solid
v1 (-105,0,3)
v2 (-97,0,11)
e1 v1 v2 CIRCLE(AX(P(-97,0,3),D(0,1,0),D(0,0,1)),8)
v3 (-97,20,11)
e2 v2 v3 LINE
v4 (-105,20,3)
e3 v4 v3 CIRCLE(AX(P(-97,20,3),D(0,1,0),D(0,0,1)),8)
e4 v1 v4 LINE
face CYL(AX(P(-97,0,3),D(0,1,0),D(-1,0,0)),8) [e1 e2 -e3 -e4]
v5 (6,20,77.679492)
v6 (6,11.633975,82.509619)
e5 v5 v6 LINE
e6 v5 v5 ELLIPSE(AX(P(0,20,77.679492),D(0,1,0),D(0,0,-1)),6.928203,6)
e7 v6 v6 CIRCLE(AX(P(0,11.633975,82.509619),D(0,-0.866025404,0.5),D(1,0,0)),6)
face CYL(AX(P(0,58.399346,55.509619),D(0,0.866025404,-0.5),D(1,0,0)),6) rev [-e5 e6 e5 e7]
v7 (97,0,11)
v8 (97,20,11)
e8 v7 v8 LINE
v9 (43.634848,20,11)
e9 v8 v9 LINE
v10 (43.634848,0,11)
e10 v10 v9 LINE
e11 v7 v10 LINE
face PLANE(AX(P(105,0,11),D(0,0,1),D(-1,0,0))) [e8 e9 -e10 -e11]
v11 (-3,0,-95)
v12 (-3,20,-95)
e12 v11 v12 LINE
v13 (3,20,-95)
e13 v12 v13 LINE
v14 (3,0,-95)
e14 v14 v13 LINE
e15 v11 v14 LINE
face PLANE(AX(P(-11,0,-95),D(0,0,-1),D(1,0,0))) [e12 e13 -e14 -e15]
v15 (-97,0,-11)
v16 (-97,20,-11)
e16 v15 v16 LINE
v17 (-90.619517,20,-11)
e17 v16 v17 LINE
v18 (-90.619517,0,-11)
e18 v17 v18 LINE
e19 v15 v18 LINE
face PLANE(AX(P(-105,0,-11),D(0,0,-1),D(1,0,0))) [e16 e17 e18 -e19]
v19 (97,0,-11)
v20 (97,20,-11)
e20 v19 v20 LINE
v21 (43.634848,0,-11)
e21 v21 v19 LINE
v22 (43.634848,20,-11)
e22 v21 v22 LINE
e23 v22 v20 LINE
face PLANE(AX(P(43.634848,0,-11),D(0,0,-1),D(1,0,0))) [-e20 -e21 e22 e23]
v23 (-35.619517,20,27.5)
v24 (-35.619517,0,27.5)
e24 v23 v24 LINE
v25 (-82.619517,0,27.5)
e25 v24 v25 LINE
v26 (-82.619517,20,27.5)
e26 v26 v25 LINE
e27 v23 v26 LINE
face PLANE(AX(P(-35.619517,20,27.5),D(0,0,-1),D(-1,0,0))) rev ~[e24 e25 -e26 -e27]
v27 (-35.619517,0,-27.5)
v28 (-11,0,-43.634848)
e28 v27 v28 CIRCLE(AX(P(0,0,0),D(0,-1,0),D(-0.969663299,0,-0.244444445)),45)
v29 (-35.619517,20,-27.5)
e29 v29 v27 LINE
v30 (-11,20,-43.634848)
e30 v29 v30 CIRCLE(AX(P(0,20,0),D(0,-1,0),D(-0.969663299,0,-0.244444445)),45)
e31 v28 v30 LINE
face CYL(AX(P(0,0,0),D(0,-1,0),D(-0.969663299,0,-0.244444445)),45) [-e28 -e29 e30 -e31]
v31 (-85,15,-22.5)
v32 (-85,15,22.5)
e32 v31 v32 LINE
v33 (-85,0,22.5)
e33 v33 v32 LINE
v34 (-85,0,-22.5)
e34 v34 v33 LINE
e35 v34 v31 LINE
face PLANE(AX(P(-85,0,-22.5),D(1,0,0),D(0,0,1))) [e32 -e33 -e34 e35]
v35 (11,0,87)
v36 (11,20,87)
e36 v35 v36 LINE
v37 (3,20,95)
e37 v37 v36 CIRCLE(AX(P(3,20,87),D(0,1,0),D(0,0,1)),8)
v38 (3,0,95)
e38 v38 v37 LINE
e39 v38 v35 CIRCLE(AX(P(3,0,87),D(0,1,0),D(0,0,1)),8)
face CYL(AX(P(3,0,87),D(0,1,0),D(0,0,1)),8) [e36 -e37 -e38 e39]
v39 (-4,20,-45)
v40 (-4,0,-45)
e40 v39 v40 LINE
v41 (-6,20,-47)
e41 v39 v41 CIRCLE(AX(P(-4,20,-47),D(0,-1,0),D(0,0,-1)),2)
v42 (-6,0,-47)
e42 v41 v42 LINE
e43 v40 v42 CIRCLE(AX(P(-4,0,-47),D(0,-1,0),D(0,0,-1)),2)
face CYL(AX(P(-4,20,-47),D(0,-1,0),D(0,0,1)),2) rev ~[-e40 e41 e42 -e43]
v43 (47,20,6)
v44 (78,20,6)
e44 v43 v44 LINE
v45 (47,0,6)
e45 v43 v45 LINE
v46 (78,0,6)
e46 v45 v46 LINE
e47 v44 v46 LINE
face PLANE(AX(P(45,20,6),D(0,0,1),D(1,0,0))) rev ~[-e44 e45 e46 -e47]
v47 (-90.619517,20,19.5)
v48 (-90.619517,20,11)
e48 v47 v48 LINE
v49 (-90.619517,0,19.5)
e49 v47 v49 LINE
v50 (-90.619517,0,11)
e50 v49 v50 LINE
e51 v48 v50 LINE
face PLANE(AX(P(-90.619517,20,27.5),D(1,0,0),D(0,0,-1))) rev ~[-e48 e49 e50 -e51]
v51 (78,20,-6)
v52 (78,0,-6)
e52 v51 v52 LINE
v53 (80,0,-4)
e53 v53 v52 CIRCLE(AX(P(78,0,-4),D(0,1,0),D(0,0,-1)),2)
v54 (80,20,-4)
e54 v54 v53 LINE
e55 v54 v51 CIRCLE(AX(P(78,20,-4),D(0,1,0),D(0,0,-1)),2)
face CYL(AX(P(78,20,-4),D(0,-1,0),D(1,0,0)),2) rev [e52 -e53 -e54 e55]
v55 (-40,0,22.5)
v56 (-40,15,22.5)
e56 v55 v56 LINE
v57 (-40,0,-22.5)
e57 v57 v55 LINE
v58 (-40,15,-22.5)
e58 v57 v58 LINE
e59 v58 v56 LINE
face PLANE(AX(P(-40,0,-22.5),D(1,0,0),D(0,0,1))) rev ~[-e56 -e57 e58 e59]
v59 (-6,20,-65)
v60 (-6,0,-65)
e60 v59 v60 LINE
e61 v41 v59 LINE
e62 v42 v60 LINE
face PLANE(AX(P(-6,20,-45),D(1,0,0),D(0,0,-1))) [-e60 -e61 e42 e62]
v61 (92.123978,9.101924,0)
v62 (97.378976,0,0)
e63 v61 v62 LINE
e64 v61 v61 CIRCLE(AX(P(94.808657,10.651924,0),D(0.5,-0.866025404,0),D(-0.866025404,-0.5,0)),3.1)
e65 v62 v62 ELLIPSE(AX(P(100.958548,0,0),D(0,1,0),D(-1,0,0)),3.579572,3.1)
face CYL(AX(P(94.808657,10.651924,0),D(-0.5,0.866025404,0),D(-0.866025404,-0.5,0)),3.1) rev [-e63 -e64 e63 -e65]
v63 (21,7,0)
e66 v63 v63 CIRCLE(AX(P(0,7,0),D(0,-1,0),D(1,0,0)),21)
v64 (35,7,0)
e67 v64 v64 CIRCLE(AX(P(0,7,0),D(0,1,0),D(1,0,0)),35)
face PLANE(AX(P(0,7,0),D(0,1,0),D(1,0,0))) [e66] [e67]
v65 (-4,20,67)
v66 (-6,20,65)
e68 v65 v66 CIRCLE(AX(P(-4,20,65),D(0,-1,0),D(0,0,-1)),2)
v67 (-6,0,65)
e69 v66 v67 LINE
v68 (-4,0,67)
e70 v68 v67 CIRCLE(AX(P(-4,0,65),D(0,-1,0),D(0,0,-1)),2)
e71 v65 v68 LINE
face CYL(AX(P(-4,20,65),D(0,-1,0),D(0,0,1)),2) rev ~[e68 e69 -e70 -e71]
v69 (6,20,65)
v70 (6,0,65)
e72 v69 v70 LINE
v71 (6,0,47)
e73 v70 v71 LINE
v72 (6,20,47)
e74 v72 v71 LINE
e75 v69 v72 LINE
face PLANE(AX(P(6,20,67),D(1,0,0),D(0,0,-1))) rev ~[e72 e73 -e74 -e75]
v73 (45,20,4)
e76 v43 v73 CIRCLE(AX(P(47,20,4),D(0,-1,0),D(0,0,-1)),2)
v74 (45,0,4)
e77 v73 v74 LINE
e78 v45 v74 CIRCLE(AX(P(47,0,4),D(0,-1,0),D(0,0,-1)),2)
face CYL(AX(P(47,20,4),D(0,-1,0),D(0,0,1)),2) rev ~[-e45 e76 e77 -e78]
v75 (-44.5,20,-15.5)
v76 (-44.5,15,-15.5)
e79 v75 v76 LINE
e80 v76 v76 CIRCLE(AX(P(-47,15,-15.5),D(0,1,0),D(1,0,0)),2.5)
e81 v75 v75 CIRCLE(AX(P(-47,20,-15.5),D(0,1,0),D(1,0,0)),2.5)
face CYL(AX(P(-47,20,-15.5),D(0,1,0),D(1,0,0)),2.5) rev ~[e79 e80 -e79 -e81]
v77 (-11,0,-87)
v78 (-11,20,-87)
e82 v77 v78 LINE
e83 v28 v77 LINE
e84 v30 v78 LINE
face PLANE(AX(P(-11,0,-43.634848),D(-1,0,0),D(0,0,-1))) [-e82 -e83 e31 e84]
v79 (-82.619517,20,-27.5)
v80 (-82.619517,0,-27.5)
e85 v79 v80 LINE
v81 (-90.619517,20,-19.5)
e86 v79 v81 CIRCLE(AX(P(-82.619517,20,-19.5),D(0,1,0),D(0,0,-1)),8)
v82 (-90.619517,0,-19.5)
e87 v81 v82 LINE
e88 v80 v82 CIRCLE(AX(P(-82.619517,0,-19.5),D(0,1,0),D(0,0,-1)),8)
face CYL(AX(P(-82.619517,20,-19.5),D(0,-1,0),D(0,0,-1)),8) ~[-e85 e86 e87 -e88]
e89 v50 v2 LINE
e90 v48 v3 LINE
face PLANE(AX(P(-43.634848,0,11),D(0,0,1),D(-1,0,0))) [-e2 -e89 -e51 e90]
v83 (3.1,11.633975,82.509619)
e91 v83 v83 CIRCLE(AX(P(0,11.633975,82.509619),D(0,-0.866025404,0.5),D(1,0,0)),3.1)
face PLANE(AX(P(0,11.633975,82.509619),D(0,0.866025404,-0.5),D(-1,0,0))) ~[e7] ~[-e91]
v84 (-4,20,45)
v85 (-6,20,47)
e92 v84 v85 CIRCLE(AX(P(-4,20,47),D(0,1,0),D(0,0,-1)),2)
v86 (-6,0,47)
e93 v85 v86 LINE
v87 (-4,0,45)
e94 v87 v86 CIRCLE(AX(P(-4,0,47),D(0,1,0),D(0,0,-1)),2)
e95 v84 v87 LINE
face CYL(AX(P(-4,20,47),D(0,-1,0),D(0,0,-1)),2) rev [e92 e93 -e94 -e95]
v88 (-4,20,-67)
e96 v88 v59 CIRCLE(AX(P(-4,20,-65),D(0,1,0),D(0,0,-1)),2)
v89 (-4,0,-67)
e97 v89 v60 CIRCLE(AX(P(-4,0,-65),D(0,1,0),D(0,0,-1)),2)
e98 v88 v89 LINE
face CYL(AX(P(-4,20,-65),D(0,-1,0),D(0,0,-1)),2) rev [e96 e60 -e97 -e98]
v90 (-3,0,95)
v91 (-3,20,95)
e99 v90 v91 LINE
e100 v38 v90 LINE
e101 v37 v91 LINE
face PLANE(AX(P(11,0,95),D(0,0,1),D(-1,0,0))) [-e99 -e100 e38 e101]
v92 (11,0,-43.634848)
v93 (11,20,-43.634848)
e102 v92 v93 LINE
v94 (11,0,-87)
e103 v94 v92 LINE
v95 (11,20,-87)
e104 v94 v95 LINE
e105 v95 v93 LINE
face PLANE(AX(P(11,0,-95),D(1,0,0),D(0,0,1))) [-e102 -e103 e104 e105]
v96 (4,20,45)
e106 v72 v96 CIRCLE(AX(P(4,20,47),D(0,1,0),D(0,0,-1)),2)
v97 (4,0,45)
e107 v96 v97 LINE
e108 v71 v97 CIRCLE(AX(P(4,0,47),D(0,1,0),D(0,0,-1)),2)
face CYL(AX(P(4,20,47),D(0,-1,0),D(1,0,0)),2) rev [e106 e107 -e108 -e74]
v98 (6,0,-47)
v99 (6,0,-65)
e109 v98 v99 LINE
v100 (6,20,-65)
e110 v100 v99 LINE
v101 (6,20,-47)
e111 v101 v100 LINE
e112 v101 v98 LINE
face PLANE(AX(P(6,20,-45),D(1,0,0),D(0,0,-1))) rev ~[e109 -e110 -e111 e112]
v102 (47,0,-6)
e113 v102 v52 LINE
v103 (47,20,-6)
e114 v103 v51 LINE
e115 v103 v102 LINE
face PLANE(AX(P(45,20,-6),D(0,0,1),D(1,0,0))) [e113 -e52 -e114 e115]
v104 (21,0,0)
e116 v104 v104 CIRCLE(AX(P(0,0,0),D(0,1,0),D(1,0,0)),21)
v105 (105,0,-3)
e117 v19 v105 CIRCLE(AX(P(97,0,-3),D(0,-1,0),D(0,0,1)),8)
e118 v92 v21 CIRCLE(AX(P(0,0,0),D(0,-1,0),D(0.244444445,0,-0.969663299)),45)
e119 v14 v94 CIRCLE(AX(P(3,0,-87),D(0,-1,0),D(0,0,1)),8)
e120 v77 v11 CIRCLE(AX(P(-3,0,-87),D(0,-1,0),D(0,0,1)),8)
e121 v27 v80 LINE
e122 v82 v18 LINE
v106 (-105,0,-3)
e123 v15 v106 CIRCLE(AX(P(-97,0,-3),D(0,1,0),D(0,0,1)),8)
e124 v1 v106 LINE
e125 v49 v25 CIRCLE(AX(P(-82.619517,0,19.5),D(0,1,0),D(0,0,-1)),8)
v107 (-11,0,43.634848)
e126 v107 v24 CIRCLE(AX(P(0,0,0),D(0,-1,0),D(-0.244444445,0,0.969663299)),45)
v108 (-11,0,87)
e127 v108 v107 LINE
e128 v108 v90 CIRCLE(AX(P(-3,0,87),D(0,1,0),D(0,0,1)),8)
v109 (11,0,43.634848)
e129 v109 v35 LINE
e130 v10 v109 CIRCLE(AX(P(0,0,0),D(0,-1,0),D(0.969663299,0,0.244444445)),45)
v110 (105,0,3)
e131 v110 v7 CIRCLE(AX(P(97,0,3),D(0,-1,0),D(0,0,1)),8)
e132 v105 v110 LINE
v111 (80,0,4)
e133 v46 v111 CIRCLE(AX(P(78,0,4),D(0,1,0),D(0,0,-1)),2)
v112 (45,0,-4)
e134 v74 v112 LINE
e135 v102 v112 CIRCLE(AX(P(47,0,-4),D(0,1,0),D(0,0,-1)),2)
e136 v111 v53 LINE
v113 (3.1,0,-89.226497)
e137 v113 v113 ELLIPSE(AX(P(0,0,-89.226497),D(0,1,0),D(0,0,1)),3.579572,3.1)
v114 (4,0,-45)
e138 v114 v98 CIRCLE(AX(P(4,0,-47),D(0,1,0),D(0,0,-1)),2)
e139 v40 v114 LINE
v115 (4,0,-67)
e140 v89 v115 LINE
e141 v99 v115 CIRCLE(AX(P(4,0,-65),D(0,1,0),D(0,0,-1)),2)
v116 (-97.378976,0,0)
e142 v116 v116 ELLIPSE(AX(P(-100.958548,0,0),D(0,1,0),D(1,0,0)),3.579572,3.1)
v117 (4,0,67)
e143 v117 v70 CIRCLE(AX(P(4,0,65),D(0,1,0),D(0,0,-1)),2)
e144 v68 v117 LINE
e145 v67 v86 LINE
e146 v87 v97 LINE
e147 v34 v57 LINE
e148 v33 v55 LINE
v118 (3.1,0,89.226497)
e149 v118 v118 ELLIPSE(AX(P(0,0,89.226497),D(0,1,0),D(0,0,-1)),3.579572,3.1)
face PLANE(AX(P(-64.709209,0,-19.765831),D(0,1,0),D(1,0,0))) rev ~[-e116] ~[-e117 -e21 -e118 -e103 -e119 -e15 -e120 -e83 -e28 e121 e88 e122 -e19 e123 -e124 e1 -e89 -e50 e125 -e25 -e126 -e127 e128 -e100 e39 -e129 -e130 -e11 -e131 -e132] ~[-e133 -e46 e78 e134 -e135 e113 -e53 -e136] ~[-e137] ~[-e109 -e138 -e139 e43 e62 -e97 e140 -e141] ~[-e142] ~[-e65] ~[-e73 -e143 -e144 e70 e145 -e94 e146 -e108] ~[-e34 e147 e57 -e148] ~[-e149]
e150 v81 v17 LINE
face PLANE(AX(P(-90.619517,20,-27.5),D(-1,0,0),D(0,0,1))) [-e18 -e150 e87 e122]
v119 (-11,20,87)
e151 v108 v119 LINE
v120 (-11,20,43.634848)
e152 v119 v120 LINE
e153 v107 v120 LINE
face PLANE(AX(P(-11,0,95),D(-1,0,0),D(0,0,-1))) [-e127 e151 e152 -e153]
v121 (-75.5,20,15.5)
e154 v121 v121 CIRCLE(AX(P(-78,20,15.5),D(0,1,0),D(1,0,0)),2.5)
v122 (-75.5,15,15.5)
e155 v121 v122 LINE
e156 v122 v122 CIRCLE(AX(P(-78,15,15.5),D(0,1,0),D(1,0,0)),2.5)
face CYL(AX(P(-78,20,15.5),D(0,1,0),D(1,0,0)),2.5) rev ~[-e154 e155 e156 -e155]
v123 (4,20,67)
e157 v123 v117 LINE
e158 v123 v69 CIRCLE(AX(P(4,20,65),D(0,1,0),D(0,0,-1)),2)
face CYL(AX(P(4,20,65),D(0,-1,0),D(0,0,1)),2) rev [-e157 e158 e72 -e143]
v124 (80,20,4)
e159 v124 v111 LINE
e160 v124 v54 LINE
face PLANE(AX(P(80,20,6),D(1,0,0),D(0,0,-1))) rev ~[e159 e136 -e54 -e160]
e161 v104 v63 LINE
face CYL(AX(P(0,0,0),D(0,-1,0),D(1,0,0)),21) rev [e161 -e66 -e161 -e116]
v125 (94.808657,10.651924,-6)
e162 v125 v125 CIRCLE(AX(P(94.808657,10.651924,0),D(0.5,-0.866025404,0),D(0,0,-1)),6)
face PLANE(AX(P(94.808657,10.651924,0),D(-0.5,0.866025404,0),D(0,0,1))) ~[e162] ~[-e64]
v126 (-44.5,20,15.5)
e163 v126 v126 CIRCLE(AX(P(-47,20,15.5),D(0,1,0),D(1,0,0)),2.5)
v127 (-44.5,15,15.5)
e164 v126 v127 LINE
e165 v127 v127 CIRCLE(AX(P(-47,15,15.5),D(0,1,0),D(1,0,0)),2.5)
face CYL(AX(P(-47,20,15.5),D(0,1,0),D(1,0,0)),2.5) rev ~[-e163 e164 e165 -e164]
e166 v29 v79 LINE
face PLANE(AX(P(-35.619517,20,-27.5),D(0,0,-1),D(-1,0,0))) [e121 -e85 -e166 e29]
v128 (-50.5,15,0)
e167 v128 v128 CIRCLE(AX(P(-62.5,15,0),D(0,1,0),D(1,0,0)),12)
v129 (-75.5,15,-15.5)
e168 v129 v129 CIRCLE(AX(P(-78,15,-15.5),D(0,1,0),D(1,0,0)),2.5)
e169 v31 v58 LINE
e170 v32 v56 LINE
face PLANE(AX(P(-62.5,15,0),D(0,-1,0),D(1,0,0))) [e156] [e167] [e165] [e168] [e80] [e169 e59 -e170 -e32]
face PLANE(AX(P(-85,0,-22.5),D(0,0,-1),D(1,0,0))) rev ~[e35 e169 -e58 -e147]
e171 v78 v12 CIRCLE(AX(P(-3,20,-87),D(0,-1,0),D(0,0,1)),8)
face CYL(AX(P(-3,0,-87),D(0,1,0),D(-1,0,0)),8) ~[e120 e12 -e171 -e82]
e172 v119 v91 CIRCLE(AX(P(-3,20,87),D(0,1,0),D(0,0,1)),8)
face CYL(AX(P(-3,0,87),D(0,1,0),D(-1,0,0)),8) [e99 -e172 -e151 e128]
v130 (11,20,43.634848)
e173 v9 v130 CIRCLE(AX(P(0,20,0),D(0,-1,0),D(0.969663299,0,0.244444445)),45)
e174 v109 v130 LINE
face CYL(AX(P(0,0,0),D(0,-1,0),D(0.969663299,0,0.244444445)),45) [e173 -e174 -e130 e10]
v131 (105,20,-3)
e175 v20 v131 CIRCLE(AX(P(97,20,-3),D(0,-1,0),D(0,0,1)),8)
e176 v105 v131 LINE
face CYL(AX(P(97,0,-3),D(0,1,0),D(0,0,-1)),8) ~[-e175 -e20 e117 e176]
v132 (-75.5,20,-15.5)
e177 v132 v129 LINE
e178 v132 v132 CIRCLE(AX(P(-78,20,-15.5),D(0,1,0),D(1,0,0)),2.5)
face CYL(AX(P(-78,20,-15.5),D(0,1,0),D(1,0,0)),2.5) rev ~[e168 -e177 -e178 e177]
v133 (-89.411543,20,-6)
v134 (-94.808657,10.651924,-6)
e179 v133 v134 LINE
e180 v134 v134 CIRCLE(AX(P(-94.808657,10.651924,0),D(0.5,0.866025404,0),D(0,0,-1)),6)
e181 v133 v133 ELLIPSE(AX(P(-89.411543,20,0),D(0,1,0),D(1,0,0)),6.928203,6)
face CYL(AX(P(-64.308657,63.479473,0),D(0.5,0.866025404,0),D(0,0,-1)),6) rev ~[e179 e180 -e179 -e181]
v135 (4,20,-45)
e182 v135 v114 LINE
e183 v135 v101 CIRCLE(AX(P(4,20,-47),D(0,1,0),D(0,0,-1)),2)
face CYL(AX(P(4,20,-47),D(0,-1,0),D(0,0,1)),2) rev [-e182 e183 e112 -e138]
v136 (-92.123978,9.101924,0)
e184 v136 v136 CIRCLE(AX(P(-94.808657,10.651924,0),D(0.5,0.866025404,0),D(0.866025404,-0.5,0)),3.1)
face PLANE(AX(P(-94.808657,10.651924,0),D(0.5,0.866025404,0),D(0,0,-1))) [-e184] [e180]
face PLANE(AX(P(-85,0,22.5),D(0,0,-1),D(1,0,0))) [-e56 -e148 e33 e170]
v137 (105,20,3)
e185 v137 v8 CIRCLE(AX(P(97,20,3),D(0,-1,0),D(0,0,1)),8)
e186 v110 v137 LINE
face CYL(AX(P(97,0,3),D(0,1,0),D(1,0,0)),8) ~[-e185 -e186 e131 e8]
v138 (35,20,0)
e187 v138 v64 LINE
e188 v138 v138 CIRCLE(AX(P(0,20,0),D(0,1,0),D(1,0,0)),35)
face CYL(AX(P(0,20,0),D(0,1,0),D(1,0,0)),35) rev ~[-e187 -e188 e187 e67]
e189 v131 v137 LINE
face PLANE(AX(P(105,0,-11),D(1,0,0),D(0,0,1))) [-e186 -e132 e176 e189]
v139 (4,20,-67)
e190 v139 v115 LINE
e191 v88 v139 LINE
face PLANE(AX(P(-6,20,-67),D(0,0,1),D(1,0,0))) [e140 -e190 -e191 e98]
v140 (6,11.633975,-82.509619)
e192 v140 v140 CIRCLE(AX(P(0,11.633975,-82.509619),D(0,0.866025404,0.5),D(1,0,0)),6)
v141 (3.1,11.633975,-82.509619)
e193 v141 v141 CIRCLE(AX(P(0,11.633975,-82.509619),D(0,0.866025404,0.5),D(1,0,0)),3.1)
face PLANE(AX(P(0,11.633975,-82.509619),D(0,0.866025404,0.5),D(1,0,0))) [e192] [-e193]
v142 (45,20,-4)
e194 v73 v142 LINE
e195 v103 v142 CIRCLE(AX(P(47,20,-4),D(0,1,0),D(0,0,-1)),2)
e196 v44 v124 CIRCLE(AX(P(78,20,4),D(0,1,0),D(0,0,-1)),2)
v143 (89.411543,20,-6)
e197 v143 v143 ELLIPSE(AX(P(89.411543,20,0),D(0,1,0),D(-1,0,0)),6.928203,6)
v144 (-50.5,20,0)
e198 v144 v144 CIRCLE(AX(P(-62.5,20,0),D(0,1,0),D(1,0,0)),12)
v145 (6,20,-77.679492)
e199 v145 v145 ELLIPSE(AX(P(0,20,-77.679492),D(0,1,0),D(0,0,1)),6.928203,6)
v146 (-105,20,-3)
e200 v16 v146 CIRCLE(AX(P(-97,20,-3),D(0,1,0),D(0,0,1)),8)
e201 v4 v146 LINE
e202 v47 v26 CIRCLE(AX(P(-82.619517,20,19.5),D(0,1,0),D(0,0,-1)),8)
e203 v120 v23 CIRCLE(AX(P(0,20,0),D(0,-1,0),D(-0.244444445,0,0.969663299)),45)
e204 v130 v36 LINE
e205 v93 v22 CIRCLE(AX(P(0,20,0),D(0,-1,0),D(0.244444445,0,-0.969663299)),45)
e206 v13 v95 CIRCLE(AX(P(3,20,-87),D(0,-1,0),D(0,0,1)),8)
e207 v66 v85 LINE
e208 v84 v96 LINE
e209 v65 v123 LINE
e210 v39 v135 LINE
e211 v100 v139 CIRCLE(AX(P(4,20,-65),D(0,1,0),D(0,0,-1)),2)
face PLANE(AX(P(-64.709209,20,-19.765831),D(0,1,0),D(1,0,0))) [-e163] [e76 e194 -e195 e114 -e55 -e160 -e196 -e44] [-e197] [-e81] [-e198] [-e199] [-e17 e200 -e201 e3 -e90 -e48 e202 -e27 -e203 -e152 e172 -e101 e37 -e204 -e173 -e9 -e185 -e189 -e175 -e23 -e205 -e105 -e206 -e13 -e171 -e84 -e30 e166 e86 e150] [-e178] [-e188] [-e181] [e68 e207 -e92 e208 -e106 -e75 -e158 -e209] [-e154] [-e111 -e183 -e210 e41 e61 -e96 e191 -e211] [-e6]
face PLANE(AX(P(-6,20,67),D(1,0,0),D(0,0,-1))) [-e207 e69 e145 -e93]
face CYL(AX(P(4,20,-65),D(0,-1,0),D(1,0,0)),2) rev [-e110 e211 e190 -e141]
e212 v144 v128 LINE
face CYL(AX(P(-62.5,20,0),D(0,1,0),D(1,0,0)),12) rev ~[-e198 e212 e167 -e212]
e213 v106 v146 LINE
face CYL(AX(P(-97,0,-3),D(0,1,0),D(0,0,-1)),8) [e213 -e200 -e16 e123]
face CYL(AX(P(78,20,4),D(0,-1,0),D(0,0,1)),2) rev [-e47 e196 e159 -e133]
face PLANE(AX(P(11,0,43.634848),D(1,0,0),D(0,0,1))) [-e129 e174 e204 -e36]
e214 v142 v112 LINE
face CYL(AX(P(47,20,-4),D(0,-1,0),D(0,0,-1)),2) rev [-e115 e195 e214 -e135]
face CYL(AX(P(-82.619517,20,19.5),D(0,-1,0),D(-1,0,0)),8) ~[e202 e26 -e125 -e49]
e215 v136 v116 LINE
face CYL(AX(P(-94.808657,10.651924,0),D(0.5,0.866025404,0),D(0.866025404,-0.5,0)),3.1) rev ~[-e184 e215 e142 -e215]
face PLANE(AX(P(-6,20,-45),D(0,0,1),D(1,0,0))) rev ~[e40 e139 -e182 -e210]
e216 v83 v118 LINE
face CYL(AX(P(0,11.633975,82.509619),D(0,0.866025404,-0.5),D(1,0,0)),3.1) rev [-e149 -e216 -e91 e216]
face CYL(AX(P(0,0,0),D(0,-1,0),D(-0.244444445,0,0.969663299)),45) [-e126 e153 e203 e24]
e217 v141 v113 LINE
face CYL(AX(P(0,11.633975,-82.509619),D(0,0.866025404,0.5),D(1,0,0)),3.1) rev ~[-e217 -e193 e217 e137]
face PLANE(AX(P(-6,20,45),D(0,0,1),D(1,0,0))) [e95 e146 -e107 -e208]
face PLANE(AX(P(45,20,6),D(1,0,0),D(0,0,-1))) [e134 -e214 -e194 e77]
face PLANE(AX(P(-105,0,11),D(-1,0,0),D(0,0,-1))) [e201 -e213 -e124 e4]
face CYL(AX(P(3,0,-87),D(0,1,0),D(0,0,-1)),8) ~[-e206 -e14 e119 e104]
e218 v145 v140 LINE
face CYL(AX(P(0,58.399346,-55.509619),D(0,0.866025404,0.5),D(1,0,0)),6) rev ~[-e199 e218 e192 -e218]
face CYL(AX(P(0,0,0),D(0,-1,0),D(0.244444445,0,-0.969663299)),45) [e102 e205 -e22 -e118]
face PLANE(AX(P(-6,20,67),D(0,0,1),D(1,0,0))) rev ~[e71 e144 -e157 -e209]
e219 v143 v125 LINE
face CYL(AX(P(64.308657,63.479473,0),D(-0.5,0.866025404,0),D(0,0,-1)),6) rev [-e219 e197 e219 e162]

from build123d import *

# Parameters (mm, degrees)
SKETCH_1_R          = 21
EXTRUDE_1_DEPTH     = 20
EXTRUDE_2_DEPTH     = 20
SKETCH_6_R          = 35
CUT_EXTRUDE_4_DEPTH = 13
SKETCH_4_R          = 2.5
SKETCH_4_R_2        = 12
CUT_EXTRUDE_3_DEPTH = 21
SKETCH_7_W          = 45
SKETCH_7_H          = 45
CUT_EXTRUDE_5_DEPTH = 15
SKETCH_2_R          = 6
CUT_EXTRUDE_1_DEPTH = 54
SKETCH_3_R          = 3.1
CUT_EXTRUDE_2_DEPTH = 17.320508076
SKETCH_8_R          = 6
CUT_EXTRUDE_6_DEPTH = 61
SKETCH_9_R          = 3.1
CUT_EXTRUDE_7_DEPTH = 15.320508076
FILLET_1_R          = 8
SKETCH_10_W         = 12
SKETCH_10_H         = 22
SKETCH_10_W_2       = 35
SKETCH_10_H_2       = 12
CUT_EXTRUDE_8_DEPTH = 21
FILLET_2_R          = 2


with BuildPart() as part:
    # Эскиз1 → Бобышка-Вытянуть1 (new body)
    with BuildSketch(Plane(origin=(0, 0, 0), x_dir=(1, 0, 0), z_dir=(0, 1, 0))):
        with BuildLine():
            Line((-11, 43.634848459), (-11, 95))
            Line((-11, 95), (11, 95))
            Line((11, 95), (11, 43.634848459))
            ThreePointArc((11, 43.634848459), (31.819805153, 31.819805153), (43.634848459, 11))
            Line((43.634848459, 11), (105, 11))
            Line((105, 11), (105, -11))
            Line((105, -11), (43.634848459, -11))
            ThreePointArc((43.634848459, -11), (31.819805153, -31.819805153), (11, -43.634848459))
            Line((11, -43.634848459), (11, -95))
            Line((11, -95), (-11, -95))
            Line((-11, -95), (-11, -43.634848459))
            ThreePointArc((-11, -43.634848459), (-31.819805153, -31.819805153), (-43.634848459, -11))
            Line((-43.634848459, -11), (-105, -11))
            Line((-105, -11), (-105, 11))
            Line((-105, 11), (-43.634848459, 11))
            ThreePointArc((-43.634848459, 11), (-31.819805153, 31.819805153), (-11, 43.634848459))
        make_face()
        Circle(SKETCH_1_R, mode=Mode.SUBTRACT)
    extrude(amount=EXTRUDE_1_DEPTH)

    # Эскиз5 → Бобышка-Вытянуть2 (add, through all)
    with BuildSketch(Plane(origin=(0, 20, 0), x_dir=(1, 0, 0), z_dir=(0, 1, 0))):
        with BuildLine():
            Line((-35.619517122, 27.5), (-90.619517122, 27.5))
            Line((-90.619517122, 27.5), (-90.619517122, 11))
            Line((-90.619517122, 11), (-43.634848459, 11))
            ThreePointArc((-43.634848459, 11), (-40.476859017, 19.662753726), (-35.619517122, 27.5))
        make_face()
        with BuildLine():
            Line((-35.619517122, -27.5), (-90.619517122, -27.5))
            Line((-90.619517122, -27.5), (-90.619517122, -11))
            Line((-90.619517122, -11), (-43.634848459, -11))
            ThreePointArc((-43.634848459, -11), (-40.476859017, -19.662753726), (-35.619517122, -27.5))
        make_face()
    extrude(amount=-EXTRUDE_2_DEPTH)

    # Эскиз6 → Вырез-Вытянуть4 (cut)
    with BuildSketch(Plane(origin=(0, 20, 0), x_dir=(1, 0, 0), z_dir=(0, 1, 0))):
        Circle(SKETCH_6_R)
    extrude(amount=-CUT_EXTRUDE_4_DEPTH, mode=Mode.SUBTRACT)

    # Эскиз4 → Вырез-Вытянуть3 (cut, through all)
    with BuildSketch(Plane(origin=(0, 20, 0), x_dir=(1, 0, 0), z_dir=(0, 1, 0))):
        with Locations((-47, 15.5)):
            Circle(SKETCH_4_R)
        with Locations((-78, 15.5)):
            Circle(SKETCH_4_R)
        with Locations((-78, -15.5)):
            Circle(SKETCH_4_R)
        with Locations((-47, -15.5)):
            Circle(SKETCH_4_R)
        with Locations((-62.5, 0)):
            Circle(SKETCH_4_R_2)
    extrude(amount=-CUT_EXTRUDE_3_DEPTH, mode=Mode.SUBTRACT)

    # Эскиз7 → Вырез-Вытянуть5 (cut)
    with BuildSketch(Plane.XZ):
        with Locations((-62.5, 0)):
            Rectangle(SKETCH_7_W, SKETCH_7_H)
    extrude(amount=-CUT_EXTRUDE_5_DEPTH, mode=Mode.SUBTRACT)

    # Эскиз2 → Вырез-Вытянуть1 (cut)
    with BuildSketch(Plane(origin=(0, 19.763139721, 11.410254038), x_dir=(1, 0, 0), z_dir=(0, 0.866025404, 0.5))):
        with Locations((0, 77.27241336)):
            Circle(SKETCH_2_R)
    cut_extrude_1 = extrude(amount=-CUT_EXTRUDE_1_DEPTH, mode=Mode.SUBTRACT)

    # Эскиз3 → Вырез-Вытянуть2 (cut, through all)
    with BuildSketch(Plane(origin=(0, -27.002232084, -15.589745962), x_dir=(1, 0, 0), z_dir=(0, 0.866025404, 0.5))):
        with Locations((0, 77.27241336)):
            Circle(SKETCH_3_R)
    cut_extrude_2 = extrude(amount=-CUT_EXTRUDE_2_DEPTH, mode=Mode.SUBTRACT)

    # Эскиз8 → Вырез-Вытянуть6 (cut)
    with BuildSketch(Plane(origin=(11.410254038, 19.763139721, 0), x_dir=(0, 0, -1), z_dir=(0.5, 0.866025404, 0))):
        with Locations((0, 87.432667397)):
            Circle(SKETCH_8_R)
    cut_extrude_6 = extrude(amount=-CUT_EXTRUDE_6_DEPTH, mode=Mode.SUBTRACT)

    # Эскиз9 → Вырез-Вытянуть7 (cut, through all)
    with BuildSketch(Plane(origin=(-19.089745962, -33.06440991, 0), x_dir=(0.866025404, -0.5, 0), z_dir=(0.5, 0.866025404, 0))):
        with Locations((-87.432667397, 0)):
            Circle(SKETCH_9_R)
    cut_extrude_7 = extrude(amount=-CUT_EXTRUDE_7_DEPTH, mode=Mode.SUBTRACT)

    # Скругление1
    fillet_1_edges = [part.edges().sort_by_distance(p)[0] for p in [
        (-11, 10, -95),
        (11, 10, -95),
        (105, 10, -11),
        (105, 10, 11),
        (11, 10, 95),
        (-11, 10, 95),
        (-105, 10, 11),
        (-105, 10, -11),
        (-90.619517122, 10, -27.5),
        (-90.619517122, 10, 27.5),
    ]]
    fillet(fillet_1_edges, radius=FILLET_1_R)

    # Зеркальное отражение1: Вырез-Вытянуть1, Вырез-Вытянуть2 across plane
    add(cut_extrude_1.mirror(Plane.XY), mode=Mode.SUBTRACT)
    add(cut_extrude_2.mirror(Plane.XY), mode=Mode.SUBTRACT)

    # Зеркальное отражение2: Вырез-Вытянуть6, Вырез-Вытянуть7 across plane
    add(cut_extrude_6.mirror(Plane(origin=(0, 0, 0), x_dir=(0, 0, 1), z_dir=(1, 0, 0))), mode=Mode.SUBTRACT)
    add(cut_extrude_7.mirror(Plane(origin=(0, 0, 0), x_dir=(0, 0, 1), z_dir=(1, 0, 0))), mode=Mode.SUBTRACT)

    # Эскиз10 → Вырез-Вытянуть8 (cut, through all)
    with BuildSketch(Plane(origin=(0, 20, 0), x_dir=(1, 0, 0), z_dir=(0, 1, 0))):
        with Locations((0, 56)):
            Rectangle(SKETCH_10_W, SKETCH_10_H)
        with Locations((62.5, 0)):
            Rectangle(SKETCH_10_W_2, SKETCH_10_H_2)
        with Locations((0, -56)):
            Rectangle(SKETCH_10_W, SKETCH_10_H)
    extrude(amount=-CUT_EXTRUDE_8_DEPTH, mode=Mode.SUBTRACT)

    # Скругление2
    fillet_2_edges = [part.edges().sort_by_distance(p)[0] for p in [
        (6, 10, -67),
        (6, 10, -45),
        (-6, 10, -45),
        (-6, 10, -67),
        (80, 10, -6),
        (80, 10, 6),
        (45, 10, 6),
        (45, 10, -6),
        (-6, 10, 67),
        (-6, 10, 45),
        (6, 10, 45),
        (6, 10, 67),
    ]]
    fillet(fillet_2_edges, radius=FILLET_2_R)


solid = part.part
